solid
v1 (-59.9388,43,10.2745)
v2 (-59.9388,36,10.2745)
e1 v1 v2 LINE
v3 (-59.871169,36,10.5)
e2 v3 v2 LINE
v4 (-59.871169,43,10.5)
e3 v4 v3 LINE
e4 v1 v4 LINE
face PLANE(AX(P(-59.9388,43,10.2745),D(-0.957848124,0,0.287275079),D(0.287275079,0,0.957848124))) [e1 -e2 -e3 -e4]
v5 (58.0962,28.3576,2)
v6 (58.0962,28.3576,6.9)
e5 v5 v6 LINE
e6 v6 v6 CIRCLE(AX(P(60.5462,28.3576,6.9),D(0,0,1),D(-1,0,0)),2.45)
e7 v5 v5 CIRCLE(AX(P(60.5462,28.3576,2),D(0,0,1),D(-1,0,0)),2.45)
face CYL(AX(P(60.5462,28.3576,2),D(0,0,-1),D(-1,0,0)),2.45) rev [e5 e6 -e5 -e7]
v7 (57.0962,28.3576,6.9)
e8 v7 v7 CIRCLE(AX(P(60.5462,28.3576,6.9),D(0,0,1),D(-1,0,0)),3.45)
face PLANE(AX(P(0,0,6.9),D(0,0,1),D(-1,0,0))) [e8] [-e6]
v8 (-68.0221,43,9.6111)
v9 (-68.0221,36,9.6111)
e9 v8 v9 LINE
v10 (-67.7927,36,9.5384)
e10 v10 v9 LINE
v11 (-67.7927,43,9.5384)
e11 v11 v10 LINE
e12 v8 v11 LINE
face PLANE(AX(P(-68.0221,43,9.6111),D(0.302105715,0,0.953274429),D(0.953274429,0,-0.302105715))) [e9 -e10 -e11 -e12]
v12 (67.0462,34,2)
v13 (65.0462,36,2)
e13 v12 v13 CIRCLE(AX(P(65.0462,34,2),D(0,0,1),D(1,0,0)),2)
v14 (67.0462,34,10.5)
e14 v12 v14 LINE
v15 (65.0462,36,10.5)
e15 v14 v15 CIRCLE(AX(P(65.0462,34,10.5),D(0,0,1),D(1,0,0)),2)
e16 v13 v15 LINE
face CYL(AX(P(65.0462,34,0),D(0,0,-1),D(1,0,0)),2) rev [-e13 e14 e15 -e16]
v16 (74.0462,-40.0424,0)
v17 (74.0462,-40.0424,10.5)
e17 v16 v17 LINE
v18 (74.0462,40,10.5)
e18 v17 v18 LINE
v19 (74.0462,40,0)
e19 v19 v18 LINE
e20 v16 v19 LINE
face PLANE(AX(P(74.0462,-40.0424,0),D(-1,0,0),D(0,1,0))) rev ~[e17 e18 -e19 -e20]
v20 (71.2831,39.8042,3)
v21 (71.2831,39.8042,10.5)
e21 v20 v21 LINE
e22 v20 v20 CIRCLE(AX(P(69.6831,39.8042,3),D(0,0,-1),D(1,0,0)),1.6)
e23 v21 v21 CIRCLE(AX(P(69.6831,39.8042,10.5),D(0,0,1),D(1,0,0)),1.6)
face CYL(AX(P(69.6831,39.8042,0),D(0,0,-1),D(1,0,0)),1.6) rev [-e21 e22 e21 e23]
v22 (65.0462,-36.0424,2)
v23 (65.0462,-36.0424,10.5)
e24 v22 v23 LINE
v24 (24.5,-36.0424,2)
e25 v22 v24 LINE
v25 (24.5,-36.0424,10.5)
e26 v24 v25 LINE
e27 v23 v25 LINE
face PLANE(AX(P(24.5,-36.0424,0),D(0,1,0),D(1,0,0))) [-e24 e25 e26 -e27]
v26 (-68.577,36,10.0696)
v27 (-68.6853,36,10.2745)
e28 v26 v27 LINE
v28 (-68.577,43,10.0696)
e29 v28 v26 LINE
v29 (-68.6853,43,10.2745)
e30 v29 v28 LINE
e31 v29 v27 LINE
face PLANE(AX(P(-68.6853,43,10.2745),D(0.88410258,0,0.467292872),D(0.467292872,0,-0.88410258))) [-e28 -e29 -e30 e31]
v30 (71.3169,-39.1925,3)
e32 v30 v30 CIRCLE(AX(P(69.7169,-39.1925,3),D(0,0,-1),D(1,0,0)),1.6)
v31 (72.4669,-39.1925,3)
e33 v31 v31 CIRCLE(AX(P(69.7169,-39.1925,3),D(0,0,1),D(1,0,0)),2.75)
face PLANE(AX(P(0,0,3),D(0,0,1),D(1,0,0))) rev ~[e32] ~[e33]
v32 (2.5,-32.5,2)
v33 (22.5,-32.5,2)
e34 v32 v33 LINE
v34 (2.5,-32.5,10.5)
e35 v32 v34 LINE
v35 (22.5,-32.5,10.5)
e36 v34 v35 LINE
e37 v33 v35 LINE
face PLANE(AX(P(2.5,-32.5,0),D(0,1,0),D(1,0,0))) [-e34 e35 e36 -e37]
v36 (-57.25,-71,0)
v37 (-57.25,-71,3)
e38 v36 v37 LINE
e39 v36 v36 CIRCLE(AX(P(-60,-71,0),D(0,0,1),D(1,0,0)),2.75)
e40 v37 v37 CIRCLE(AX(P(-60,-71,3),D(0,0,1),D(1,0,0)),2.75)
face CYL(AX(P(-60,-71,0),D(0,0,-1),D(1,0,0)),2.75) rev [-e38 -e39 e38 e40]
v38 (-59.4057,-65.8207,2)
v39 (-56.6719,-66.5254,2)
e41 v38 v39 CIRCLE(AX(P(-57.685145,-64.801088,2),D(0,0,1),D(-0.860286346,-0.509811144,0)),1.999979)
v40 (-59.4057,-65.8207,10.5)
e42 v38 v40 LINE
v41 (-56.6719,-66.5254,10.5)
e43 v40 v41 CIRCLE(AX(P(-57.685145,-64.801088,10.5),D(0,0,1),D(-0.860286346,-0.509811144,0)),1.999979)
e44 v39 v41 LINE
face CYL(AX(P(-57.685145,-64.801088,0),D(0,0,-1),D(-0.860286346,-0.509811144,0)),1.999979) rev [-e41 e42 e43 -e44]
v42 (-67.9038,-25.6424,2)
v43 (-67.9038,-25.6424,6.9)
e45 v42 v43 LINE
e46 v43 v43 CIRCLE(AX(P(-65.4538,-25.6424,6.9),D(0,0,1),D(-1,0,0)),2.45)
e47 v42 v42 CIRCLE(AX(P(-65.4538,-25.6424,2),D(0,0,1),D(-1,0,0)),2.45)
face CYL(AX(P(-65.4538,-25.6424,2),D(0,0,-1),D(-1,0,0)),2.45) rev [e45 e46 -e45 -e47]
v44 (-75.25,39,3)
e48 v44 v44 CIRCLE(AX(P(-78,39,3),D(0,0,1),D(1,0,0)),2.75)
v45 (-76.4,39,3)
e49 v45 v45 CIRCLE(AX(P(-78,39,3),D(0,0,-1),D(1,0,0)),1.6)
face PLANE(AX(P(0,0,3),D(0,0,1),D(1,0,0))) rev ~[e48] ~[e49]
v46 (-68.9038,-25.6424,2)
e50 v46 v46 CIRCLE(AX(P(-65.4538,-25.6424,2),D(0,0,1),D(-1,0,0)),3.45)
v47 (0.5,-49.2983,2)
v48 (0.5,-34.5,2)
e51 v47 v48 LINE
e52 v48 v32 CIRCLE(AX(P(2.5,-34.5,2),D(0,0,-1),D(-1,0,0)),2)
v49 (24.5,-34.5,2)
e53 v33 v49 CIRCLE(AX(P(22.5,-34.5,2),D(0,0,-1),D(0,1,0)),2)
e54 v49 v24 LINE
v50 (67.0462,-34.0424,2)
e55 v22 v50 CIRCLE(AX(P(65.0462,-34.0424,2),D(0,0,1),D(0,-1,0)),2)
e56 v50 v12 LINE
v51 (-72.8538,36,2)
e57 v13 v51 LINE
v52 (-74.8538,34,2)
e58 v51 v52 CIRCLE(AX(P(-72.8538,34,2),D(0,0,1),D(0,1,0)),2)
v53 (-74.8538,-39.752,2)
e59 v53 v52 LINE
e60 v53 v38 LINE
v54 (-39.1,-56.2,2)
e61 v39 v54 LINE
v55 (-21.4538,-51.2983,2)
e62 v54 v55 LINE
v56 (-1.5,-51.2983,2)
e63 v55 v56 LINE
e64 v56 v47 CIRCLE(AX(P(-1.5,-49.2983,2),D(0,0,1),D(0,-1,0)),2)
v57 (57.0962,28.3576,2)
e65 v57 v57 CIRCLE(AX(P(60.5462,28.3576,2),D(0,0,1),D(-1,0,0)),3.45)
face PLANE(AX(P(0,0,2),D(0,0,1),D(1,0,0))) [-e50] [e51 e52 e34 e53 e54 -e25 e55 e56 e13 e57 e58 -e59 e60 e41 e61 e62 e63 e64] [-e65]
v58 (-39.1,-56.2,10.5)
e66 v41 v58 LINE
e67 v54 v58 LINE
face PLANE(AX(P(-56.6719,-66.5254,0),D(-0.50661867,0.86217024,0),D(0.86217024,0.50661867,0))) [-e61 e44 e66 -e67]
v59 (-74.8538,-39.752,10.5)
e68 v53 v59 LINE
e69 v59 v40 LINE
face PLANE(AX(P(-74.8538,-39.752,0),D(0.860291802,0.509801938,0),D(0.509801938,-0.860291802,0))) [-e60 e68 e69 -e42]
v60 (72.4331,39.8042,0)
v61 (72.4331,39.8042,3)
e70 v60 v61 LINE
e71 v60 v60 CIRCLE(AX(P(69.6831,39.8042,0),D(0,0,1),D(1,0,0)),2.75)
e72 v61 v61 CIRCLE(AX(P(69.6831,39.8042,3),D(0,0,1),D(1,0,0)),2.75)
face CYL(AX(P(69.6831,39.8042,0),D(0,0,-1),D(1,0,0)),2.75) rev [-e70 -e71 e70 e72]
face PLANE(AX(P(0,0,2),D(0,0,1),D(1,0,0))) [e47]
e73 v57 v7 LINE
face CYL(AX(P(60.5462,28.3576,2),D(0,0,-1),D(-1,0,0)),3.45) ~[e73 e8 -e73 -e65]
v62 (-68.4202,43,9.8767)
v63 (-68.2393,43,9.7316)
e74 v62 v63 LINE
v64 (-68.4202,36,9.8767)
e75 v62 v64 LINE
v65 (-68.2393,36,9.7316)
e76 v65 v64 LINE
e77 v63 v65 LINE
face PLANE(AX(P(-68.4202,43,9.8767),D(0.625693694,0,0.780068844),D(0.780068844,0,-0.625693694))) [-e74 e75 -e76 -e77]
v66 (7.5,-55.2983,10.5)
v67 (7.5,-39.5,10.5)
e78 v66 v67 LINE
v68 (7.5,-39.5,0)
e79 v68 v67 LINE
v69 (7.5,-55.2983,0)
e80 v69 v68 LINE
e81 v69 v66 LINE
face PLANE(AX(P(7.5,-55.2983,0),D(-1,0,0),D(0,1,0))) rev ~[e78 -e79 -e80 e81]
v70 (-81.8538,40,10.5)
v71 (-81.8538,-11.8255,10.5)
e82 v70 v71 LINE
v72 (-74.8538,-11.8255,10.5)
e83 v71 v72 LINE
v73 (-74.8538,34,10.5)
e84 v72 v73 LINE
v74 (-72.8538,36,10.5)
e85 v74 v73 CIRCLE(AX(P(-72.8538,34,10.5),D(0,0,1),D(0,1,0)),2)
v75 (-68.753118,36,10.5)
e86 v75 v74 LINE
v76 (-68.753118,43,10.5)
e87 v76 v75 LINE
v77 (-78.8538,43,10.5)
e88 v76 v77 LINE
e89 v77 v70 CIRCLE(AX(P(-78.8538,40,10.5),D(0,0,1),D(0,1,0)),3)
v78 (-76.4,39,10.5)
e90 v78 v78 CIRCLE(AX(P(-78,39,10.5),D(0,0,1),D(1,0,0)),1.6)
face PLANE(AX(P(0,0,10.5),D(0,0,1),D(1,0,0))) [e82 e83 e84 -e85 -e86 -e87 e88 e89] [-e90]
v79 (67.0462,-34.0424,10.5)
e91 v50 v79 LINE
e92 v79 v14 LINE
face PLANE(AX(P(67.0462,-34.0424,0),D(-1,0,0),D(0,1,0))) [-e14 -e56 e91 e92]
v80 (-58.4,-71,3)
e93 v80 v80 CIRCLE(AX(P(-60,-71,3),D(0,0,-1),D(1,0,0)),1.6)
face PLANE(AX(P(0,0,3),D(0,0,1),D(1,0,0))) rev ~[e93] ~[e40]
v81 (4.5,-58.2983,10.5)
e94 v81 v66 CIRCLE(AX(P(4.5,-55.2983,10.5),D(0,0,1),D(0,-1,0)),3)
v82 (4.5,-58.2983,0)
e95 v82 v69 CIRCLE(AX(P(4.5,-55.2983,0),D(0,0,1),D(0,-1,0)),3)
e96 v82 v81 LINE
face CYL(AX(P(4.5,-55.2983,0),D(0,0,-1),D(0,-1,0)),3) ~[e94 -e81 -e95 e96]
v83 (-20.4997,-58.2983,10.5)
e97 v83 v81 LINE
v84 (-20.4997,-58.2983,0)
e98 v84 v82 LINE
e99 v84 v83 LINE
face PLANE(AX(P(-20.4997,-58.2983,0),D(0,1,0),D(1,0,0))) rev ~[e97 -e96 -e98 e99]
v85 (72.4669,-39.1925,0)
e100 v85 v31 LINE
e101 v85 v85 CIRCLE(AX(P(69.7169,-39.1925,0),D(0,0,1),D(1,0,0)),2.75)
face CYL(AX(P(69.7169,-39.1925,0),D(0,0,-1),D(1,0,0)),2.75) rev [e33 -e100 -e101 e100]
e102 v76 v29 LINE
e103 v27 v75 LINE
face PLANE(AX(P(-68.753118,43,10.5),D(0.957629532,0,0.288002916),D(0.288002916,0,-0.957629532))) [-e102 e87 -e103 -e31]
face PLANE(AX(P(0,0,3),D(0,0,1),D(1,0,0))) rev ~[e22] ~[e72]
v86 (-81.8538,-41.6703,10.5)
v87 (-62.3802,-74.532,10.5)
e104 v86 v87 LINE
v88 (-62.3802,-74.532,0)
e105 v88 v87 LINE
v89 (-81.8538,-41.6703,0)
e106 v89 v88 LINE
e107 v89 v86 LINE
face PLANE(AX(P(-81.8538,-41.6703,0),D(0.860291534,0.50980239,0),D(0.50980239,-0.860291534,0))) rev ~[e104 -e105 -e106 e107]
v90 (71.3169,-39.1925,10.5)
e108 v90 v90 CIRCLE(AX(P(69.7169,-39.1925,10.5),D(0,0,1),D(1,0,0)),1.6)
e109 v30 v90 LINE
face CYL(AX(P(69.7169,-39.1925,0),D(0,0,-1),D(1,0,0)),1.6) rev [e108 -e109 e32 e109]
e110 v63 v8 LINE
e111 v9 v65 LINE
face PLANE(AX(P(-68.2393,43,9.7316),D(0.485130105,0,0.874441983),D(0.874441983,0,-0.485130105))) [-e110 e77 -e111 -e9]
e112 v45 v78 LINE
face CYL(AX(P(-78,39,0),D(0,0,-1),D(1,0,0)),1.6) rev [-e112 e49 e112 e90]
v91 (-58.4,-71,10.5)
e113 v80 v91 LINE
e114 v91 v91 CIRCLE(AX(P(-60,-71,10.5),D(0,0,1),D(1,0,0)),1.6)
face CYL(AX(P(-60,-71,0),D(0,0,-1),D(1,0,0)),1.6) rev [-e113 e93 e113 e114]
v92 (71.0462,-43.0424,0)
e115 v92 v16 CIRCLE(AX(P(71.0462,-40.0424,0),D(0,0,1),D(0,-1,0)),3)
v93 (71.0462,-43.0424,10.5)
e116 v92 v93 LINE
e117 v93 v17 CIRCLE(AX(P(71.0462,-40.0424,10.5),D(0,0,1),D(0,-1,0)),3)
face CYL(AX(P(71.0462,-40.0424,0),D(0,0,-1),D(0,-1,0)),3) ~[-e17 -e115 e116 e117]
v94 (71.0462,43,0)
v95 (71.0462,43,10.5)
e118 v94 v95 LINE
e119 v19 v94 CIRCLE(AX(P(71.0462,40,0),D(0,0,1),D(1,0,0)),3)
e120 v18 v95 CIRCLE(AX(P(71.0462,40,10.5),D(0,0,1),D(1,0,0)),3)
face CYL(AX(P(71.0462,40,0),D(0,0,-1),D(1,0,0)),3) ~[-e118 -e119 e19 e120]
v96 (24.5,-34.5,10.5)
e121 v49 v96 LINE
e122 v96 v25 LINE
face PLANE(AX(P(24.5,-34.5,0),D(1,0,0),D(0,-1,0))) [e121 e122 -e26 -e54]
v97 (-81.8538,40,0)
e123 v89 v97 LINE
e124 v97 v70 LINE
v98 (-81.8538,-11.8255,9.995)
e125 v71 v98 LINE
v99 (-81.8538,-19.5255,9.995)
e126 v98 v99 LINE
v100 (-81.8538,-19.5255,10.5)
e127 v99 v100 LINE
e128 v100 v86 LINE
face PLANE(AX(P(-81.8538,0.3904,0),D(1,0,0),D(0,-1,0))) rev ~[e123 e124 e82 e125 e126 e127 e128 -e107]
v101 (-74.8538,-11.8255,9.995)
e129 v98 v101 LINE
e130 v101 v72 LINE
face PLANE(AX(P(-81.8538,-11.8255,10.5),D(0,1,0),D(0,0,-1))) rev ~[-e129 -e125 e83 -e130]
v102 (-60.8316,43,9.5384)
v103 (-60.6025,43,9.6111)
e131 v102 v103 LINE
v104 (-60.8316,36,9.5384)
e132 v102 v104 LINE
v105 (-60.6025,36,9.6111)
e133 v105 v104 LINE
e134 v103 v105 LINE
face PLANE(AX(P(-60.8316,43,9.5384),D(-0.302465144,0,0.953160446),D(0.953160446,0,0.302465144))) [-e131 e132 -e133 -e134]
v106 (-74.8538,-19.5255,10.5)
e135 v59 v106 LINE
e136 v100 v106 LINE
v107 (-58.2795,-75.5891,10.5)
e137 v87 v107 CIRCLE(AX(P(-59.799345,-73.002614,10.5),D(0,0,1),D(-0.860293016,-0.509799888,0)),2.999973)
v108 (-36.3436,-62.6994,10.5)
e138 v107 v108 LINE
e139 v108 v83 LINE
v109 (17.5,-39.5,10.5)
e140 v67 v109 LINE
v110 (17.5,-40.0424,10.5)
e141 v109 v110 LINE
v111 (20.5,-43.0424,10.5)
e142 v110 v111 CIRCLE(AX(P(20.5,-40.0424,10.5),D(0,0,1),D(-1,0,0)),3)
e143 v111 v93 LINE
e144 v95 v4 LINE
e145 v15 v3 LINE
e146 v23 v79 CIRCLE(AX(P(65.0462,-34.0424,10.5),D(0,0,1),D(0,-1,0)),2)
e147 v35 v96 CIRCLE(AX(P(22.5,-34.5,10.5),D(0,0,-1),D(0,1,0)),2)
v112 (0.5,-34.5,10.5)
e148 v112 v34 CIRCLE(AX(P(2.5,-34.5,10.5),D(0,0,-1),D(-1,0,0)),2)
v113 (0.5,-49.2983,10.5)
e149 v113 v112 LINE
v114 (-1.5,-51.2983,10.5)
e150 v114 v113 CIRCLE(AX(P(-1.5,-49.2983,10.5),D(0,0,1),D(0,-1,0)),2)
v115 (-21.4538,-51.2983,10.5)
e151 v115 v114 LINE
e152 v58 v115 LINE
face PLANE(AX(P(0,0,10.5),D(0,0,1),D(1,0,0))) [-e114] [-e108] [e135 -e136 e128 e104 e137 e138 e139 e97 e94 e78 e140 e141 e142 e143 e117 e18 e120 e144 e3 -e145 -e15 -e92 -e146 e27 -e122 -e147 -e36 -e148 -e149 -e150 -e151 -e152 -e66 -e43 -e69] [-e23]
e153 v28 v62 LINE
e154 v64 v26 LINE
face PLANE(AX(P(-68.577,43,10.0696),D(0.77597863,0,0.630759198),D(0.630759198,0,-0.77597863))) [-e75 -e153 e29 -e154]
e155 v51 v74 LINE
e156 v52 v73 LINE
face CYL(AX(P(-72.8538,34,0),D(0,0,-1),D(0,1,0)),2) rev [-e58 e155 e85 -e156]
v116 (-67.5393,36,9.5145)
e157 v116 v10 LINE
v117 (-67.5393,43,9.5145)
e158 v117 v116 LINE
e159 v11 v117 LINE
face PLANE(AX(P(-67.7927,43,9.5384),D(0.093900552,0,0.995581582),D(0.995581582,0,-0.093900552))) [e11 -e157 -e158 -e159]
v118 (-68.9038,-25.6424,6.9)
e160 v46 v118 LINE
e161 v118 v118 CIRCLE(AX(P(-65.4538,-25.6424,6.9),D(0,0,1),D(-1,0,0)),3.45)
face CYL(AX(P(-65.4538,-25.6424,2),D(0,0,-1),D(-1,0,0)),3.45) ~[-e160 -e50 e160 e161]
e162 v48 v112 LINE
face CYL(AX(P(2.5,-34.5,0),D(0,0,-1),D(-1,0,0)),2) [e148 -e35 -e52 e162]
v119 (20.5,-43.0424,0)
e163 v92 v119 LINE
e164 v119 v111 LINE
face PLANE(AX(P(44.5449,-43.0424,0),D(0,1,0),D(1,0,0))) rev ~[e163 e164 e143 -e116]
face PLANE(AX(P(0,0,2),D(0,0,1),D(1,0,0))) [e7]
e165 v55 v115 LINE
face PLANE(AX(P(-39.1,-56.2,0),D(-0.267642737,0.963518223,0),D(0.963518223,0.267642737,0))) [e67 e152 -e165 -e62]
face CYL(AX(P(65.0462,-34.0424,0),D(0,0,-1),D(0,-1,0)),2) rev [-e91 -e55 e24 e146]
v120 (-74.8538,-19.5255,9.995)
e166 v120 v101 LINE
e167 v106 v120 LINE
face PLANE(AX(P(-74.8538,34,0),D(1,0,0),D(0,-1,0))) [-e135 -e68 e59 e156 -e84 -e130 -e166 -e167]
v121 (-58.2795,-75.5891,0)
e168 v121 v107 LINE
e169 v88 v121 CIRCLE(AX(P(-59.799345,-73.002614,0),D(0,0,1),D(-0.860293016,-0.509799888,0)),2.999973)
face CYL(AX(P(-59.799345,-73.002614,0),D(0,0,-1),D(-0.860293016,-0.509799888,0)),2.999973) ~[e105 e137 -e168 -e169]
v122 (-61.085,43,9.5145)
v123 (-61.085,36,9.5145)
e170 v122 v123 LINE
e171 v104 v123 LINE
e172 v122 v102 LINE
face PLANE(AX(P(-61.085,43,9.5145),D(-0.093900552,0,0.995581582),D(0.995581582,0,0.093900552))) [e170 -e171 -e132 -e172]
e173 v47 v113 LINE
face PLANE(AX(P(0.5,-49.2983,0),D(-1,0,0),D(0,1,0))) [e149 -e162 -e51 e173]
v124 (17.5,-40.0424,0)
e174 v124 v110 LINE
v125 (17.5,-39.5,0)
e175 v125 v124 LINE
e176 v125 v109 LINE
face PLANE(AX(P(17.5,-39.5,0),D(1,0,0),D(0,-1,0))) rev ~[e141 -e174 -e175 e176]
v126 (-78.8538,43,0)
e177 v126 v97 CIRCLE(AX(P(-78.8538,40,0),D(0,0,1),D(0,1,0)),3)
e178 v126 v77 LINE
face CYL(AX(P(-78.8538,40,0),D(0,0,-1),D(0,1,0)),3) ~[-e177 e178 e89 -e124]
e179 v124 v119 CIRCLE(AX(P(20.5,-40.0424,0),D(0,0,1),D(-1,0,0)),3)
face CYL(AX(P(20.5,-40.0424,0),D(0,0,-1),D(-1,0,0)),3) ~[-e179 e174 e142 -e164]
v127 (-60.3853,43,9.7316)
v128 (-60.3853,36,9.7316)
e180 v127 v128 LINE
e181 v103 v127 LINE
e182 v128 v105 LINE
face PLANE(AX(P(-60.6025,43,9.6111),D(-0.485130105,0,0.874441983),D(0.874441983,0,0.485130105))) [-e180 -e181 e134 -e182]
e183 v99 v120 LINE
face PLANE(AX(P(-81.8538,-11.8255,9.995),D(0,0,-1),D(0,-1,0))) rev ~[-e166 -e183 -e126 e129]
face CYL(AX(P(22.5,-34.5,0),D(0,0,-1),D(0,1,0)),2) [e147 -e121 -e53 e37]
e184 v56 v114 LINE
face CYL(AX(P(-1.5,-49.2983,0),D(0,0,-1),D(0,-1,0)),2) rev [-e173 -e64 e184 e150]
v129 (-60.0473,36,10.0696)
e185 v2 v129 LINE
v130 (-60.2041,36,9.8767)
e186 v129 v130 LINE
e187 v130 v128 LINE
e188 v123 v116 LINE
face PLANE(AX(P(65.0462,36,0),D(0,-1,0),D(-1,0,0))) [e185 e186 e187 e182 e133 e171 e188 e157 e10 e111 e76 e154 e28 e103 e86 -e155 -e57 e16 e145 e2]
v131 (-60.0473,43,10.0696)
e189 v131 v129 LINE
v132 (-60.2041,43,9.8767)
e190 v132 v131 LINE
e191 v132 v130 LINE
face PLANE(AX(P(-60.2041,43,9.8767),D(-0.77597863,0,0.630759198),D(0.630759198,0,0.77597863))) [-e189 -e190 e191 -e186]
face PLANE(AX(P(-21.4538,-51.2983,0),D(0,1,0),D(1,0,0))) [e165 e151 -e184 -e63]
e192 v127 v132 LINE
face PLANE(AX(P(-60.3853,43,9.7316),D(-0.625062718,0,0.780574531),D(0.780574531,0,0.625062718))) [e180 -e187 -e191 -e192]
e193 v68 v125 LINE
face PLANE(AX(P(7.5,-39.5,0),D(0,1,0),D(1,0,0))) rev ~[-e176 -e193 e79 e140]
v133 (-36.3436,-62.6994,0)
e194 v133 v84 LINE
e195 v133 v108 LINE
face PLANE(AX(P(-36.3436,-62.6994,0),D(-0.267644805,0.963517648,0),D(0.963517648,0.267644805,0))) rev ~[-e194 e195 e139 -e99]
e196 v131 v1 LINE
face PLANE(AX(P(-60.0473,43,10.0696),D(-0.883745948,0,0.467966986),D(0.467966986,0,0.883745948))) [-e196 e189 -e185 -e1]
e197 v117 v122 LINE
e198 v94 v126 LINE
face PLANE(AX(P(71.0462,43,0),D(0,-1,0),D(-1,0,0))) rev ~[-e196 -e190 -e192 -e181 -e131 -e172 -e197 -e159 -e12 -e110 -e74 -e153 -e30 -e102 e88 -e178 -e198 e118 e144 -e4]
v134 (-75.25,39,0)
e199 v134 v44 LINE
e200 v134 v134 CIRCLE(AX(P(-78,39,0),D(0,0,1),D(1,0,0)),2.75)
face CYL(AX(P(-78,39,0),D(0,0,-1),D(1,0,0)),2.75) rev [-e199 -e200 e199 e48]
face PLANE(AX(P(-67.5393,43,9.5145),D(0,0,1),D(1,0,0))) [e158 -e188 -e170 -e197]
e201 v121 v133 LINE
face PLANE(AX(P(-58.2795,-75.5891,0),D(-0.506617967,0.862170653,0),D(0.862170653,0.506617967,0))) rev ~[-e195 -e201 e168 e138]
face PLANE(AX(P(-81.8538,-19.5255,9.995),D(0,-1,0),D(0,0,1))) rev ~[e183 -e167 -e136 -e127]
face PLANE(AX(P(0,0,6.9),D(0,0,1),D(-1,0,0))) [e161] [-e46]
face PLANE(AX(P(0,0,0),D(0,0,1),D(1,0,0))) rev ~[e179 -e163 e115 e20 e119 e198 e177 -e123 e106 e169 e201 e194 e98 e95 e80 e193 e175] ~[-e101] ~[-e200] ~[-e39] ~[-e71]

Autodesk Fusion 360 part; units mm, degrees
sketch "Right_enclosure_outline" plane through (0, 0, 0) normal (0, 0, 1) x (1, 0, 0)
  line L0 (-73.4538, 34.3576) -> (65.5462, 34.3576)
  arc A0 (-73.5521, 34.3552) -> (-74.4514, 33.4559) centre (-73.4538, 33.3576) ccw
  line L1 (-74.4538, -39.6424) -> (-74.4538, 33.3576)
  line L2 (-58.9585, -65.7908) -> (-74.4538, -39.6424)
  line L3 (-39.4538, -55.6424) -> (-57.5971, -66.1464)
  line L4 (-21.4538, -50.6424) -> (-39.4538, -55.6424)
  arc A1 (-58.9067, -65.8736) -> (-57.6828, -66.1933) centre (-58.0982, -65.2811) ccw
  line L5 (-0.9538, -50.6424) -> (-21.4538, -50.6424)
  arc A2 (-0.8556, -50.64) -> (0.0438, -49.7406) centre (-0.9538, -49.6424) ccw
  line L6 (0.0462, -32.6424) -> (0.0462, -49.6424)
  line L7 (24.5462, -31.6424) -> (1.0462, -31.6424)
  line L8 (25.5462, -34.6424) -> (25.5462, -32.6424)
  line L9 (64.5462, -35.6424) -> (26.5462, -35.6424)
  line L10 (66.5462, 33.3576) -> (66.5462, -33.6424)
  line L11 (2.5, -32.5) -> (22.5, -32.5)
  line L12 (-56.6719, -66.5254) -> (-39.1, -56.2)
  line L13 (-39.1, -56.2) -> (-21.4538, -51.2983)
  line L14 (-21.4538, -51.2983) -> (-1.5, -51.2983)
  arc A3 (22.5, -32.5) -> (24.5, -34.5) centre (22.5, -34.5) cw
  line L15 (24.5, -34.5) -> (24.5, -36.0424)
  line L16 (-74.8538, 31.6376) -> (-74.8538, 0.3904)
  line L17 (-74.8538, 0.3904) -> (-74.8538, -39.752)
  line L18 (-74.8538, 34) -> (-74.8538, 31.6376)
  line L19 (-74.8538, -39.752) -> (-59.4057, -65.8207)
  line L20 (0.5, -49.2983) -> (0.5, -34.5)
  arc A4 (0.5, -34.5) -> (2.5, -32.5) centre (2.5, -34.5) cw
  line L21 (65.0462, 36) -> (-72.8538, 36)
  line L22 (67.0462, -34.0424) -> (67.0462, 34)
  line L23 (44.5449, -36.0424) -> (65.0462, -36.0424)
  line L24 (24.5, -36.0424) -> (44.5449, -36.0424)
  line L25 (-21.4538, -51.2983) -> (-1.5, -51.2983)
  line L26 (2.5, -32.5) -> (22.5, -32.5)
  line L27 (-74.8538, 34) -> (-74.8538, 31.6376)
  arc A5 (67.0462, 34) -> (65.0462, 36) centre (65.0462, 34) ccw
  line L28 (-39.1, -56.2) -> (-21.4538, -51.2983)
  line L29 (0.5, -49.2983) -> (0.5, -34.5)
  line L30 (65.0462, 36) -> (-72.8538, 36)
  line L31 (67.0462, -34.0424) -> (67.0462, 34)
  arc A6 (-72.8538, 36) -> (-74.8538, 34) centre (-72.8538, 34) ccw
  line L32 (-74.8538, 0.3904) -> (-74.8538, -39.752)
  arc A7 (65.0462, -36.0424) -> (67.0462, -34.0424) centre (65.0462, -34.0424) ccw
  line L33 (-56.6719, -66.5254) -> (-39.1, -56.2)
  line L34 (-74.8538, -39.752) -> (-59.4057, -65.8207)
  line L35 (24.5, -34.5) -> (24.5, -36.0424)
  arc A8 (-59.4057, -65.8207) -> (-56.6719, -66.5254) centre (-57.6851, -64.8011) ccw
  arc A9 (-1.5, -51.2983) -> (0.5, -49.2983) centre (-1.5, -49.2983) ccw
  line L36 (44.5449, -36.0424) -> (65.0462, -36.0424)
  line L37 (-74.8538, 31.6376) -> (-74.8538, 0.3904)
  line L38 (24.5, -36.0424) -> (44.5449, -36.0424)
  line L39 (-20.4997, -58.2983) -> (4.5, -58.2983)
  line L40 (-81.8538, -41.6703) -> (-62.3802, -74.532)
  line L41 (7.5, -55.2983) -> (7.5, -39.5)
  arc A10 (-62.3802, -74.532) -> (-58.2795, -75.5891) centre (-59.7994, -73.0026) ccw
  arc A11 (17.5, -40.0424) -> (20.5, -43.0424) centre (20.5, -40.0424) ccw
  line L42 (7.5, -39.5) -> (17.5, -39.5)
  line L43 (-58.2795, -75.5891) -> (-36.3436, -62.6994)
  line L44 (-81.8538, 31.6376) -> (-81.8538, 0.3904)
  line L45 (-81.8538, 0.3904) -> (-81.8538, -41.6703)
  line L46 (74.0462, -40.0424) -> (74.0462, 40)
  arc A12 (74.0462, 40) -> (71.0462, 43) centre (71.0462, 40) ccw
  line L47 (-36.3436, -62.6994) -> (-20.4997, -58.2983)
  line L48 (44.5449, -43.0424) -> (71.0462, -43.0424)
  arc A13 (-78.8538, 43) -> (-81.8538, 40) centre (-78.8538, 40) ccw
  arc A14 (4.5, -58.2983) -> (7.5, -55.2983) centre (4.5, -55.2983) ccw
  arc A15 (71.0462, -43.0424) -> (74.0462, -40.0424) centre (71.0462, -40.0424) ccw
  line L49 (17.5, -39.5) -> (17.5, -40.0424)
  line L50 (-81.8538, 40) -> (-81.8538, 31.6376)
  line L51 (20.5, -43.0424) -> (44.5449, -43.0424)
  line L52 (71.0462, 43) -> (-78.8538, 43)
  circle A16 centre (-78, 39) radius 1.6
  circle A17 centre (-60, -71) radius 1.6
  circle A18 centre (69.7169, -39.1925) radius 1.6
  circle A19 centre (69.6831, 39.8042) radius 1.6
  circle A20 centre (-65.4538, -25.6424) radius 1.5875
  line L53 (-59.5038, -16.8424) -> (-59.5038, -10.8424)
  line L54 (-65.4038, -16.8424) -> (-65.4038, -10.8424)
  circle A21 centre (60.5462, 28.3576) radius 1.5875
  arc A22 (25.5486, -34.7406) -> (26.4479, -35.64) centre (26.5462, -34.6424) ccw
  arc A23 (25.5438, -32.5441) -> (24.6444, -31.6448) centre (24.5462, -32.6424) ccw
  arc A24 (64.6891, -35.6398) -> (66.5436, -33.7853) centre (64.5462, -33.6424) ccw
  arc A25 (66.5438, 33.4559) -> (65.6444, 34.3552) centre (65.5462, 33.3576) ccw
  arc A26 (-72.8538, 36) -> (-74.8538, 34) centre (-72.8538, 34) ccw
  arc A27 (-59.4057, -65.8207) -> (-56.6719, -66.5254) centre (-57.6851, -64.8011) ccw
  arc A28 (-1.5, -51.2983) -> (0.5, -49.2983) centre (-1.5, -49.2983) ccw
  arc A29 (2.5, -32.5) -> (0.5, -34.5) centre (2.5, -34.5) ccw
  arc A30 (24.5, -34.5) -> (22.5, -32.5) centre (22.5, -34.5) ccw
  arc A31 (65.0462, -36.0424) -> (67.0462, -34.0424) centre (65.0462, -34.0424) ccw
  arc A32 (67.0462, 34) -> (65.0462, 36) centre (65.0462, 34) ccw
  dimension "d1" = 2
extrude "Extrude1" add sketch "Right_enclosure_outline" along normal blind 10.5 contours L39 L40 L41 A10 A11 L42 L43 L44 L45 L46 A12 L47 L48 A13 A14 A15 L49 L50 L51 L52
extrude "Extrude2" add sketch "Right_enclosure_outline" along normal blind 2 contours L11 L12 L13 L14 A3 L15 L16 L17 L18 L19 L20 A4 L21 L22 L23 L24 L25 L26 L27 A5 L28 L29 L30 L31 A6 L32 A7 L33 L34 L35 A8 A9 L36 L37 L38 A26 A27 A28 A29 A30 A31 A32 | A20 | A21
sketch "Sketch2" plane through (0, 0, 0) normal (0, 0, 1) x (1, 0, 0)
  circle A0 centre (69.6831, 39.8042) radius 2.75
  circle A1 centre (69.7169, -39.1925) radius 2.75
  circle A2 centre (-60, -71) radius 2.75
  circle A3 centre (-78, 39) radius 2.75
  point P0 (69.6831, 39.8042)
  point P1 (69.7169, -39.1925)
  point P2 (-60, -71)
  point P3 (-78, 39)
  dimension "d6" = 5.5
  dimension "d9" = 5.5
  dimension "d10" = 5.5
  dimension "d11" = 5.5
extrude "Extrude3" cut sketch "Sketch2" along normal blind 3 contours A0
extrude "Extrude4" cut sketch "Sketch2" along normal blind 3 contours A1 | A2 | A3
sketch "Sketch3" plane through (0, 0, 2) normal (0, 0, 1) x (-1, 0, 0)
  line L0 (-24.5, 34.5) -> (-24.5, 36.0424)
  line L1 (-24.5, 36.0424) -> (-65.0462, 36.0424)
  arc A0 (-65.0462, 36.0424) -> (-67.0462, 34.0424) centre (-65.0462, 34.0424) ccw
  line L2 (-67.0462, 34.0424) -> (-67.0462, -34)
  arc A1 (-67.0462, -34) -> (-65.0462, -36) centre (-65.0462, -34) ccw
  line L3 (-65.0462, -36) -> (72.8538, -36)
  arc A2 (72.8538, -36) -> (74.8538, -34) centre (72.8538, -34) ccw
  line L4 (74.8538, -34) -> (74.8538, 39.752)
  line L5 (74.8538, 39.752) -> (59.4057, 65.8207)
  arc A3 (59.4057, 65.8207) -> (56.6719, 66.5254) centre (57.6851, 64.8011) ccw
  line L6 (56.6719, 66.5254) -> (39.1, 56.2)
  line L7 (39.1, 56.2) -> (21.4538, 51.2983)
  line L8 (21.4538, 51.2983) -> (1.5, 51.2983)
  arc A4 (1.5, 51.2983) -> (-0.5, 49.2983) centre (1.5, 49.2983) ccw
  line L9 (-0.5, 49.2983) -> (-0.5, 34.5)
  arc A5 (-2.5, 32.5) -> (-0.5, 34.5) centre (-2.5, 34.5) ccw
  line L10 (-2.5, 32.5) -> (-22.5, 32.5)
  arc A6 (-24.5, 34.5) -> (-22.5, 32.5) centre (-22.5, 34.5) ccw
  circle A7 centre (65.4538, 25.6424) radius 1.5875
  circle A8 centre (-60.5462, -28.3576) radius 1.5875
  circle A9 centre (65.4538, 25.6424) radius 2.45
  circle A10 centre (65.4538, 25.6424) radius 3.45
  circle A11 centre (-60.5462, -28.3576) radius 2.45
  circle A12 centre (-60.5462, -28.3576) radius 3.45
  point P0 (-60.5462, -28.3576)
  dimension "d14" = 4.9
  dimension "d15" = 1
  dimension "d16" = 4.9
  dimension "d17" = 1
extrude "Extrude5" add sketch "Sketch3" along normal blind 4.9 contours A10 | A12
sketch "swopeniing" plane through (-81.8538, 0, 0) normal (-1, 0, 0) x (0, -1, 0)
  line L0 (-40, 0) -> (41.6703, 0)
  line L1 (41.6703, 10.5) -> (-40, 10.5)
  line L2 (-40, 10.5) -> (-40, 0)
  line L3 (41.6703, 0) -> (41.6703, 10.5)
  line L4 (18.0355, 9.995) -> (18.1755, 9.995)
  arc A0 (13.3155, 9.995) -> (13.6755, 10.355) centre (13.3155, 10.355) ccw
  line L5 (11.8255, 9.995) -> (13.1755, 9.995)
  line L6 (17.6755, 12.195) -> (17.6755, 10.355)
  line L7 (18.1755, 9.995) -> (19.5255, 9.995)
  line L8 (13.6755, 10.355) -> (13.6755, 12.195)
  line L9 (19.5255, 12.895) -> (11.8255, 12.895)
  line L10 (13.6755, 12.195) -> (17.6755, 12.195)
  arc A1 (17.6755, 10.355) -> (18.0355, 9.995) centre (18.0355, 10.355) ccw
  line L11 (11.8255, 12.895) -> (11.8255, 9.995)
  line L12 (19.5255, 9.995) -> (19.5255, 12.895)
  line L13 (13.1755, 9.995) -> (13.3155, 9.995)
  line L14 (18.1255, 9.995) -> (13.2255, 9.995)
extrude "Extrude6" cut sketch "swopeniing" against normal blind 20 contours L1 A0 L5 L8 L11 L13 L14 | L1 L4 L6 L7 A1 L12 L14 | L1 A0 L6 L8 A1 L14
sketch "Niceusbopeninig2" plane through (0, 43, 0) normal (0, 1, 0) x (-1, 0, 0)
  line L0 (-71.0462, 0) -> (78.8538, 0)
  line L1 (-71.0462, 10.5) -> (-71.0462, 0)
  line L2 (78.8538, 10.5) -> (-71.0462, 10.5)
  line L3 (78.8538, 0) -> (78.8538, 10.5)
  line L4 (68.0221, 12.5789) -> (68.2393, 12.4584)
  line L5 (68.2393, 12.4584) -> (68.4202, 12.3136)
  line L6 (68.0221, 9.6111) -> (67.7927, 9.5384)
  line L7 (68.7819, 11.4327) -> (68.7819, 10.7693)
  line L8 (68.4202, 12.3136) -> (68.577, 12.1207)
  line L9 (67.7927, 9.5384) -> (67.5393, 9.5145)
  line L10 (68.7579, 11.6741) -> (68.7819, 11.4327)
  line L11 (67.5393, 9.5145) -> (61.085, 9.5145)
  line L12 (59.8424, 11.4327) -> (59.8664, 11.6741)
  line L13 (60.0473, 10.0696) -> (59.9388, 10.2745)
  line L14 (59.9388, 10.2745) -> (59.8664, 10.5159)
  line L15 (60.3853, 9.7316) -> (60.2041, 9.8767)
  line L16 (60.2041, 9.8767) -> (60.0473, 10.0696)
  line L17 (59.8664, 10.5159) -> (59.8424, 10.7693)
  line L18 (59.8424, 10.7693) -> (59.8424, 11.4327)
  line L19 (59.9388, 11.9152) -> (60.0473, 12.1207)
  line L20 (60.2041, 12.3136) -> (60.3853, 12.4584)
  line L21 (67.5393, 12.6755) -> (67.7927, 12.6513)
  line L22 (61.085, 12.6755) -> (67.5393, 12.6755)
  line L23 (60.3853, 12.4584) -> (60.6025, 12.5789)
  line L24 (67.7927, 12.6513) -> (68.0221, 12.5789)
  line L25 (60.6025, 9.6111) -> (60.3853, 9.7316)
  line L26 (68.2393, 9.7316) -> (68.0221, 9.6111)
  line L27 (61.085, 9.5145) -> (60.8316, 9.5384)
  line L28 (60.6025, 12.5789) -> (60.8316, 12.6513)
  line L29 (60.0473, 12.1207) -> (60.2041, 12.3136)
  line L30 (60.8316, 9.5384) -> (60.6025, 9.6111)
  line L31 (68.6853, 10.2745) -> (68.577, 10.0696)
  line L32 (59.8664, 11.6741) -> (59.9388, 11.9152)
  line L33 (68.6853, 11.9152) -> (68.7579, 11.6741)
  line L34 (68.4202, 9.8767) -> (68.2393, 9.7316)
  line L35 (60.8316, 12.6513) -> (61.085, 12.6755)
  line L36 (68.7819, 10.7693) -> (68.7579, 10.5159)
  line L37 (68.577, 10.0696) -> (68.4202, 9.8767)
  line L38 (68.577, 12.1207) -> (68.6853, 11.9152)
  line L39 (68.7579, 10.5159) -> (68.6853, 10.2745)
extrude "Extrude7" cut sketch "Niceusbopeninig2" against normal blind 68 contours L2 L6 L9 L11 L13 L14 L15 L16 L25 L26 L27 L30 L31 L34 L37 L39
